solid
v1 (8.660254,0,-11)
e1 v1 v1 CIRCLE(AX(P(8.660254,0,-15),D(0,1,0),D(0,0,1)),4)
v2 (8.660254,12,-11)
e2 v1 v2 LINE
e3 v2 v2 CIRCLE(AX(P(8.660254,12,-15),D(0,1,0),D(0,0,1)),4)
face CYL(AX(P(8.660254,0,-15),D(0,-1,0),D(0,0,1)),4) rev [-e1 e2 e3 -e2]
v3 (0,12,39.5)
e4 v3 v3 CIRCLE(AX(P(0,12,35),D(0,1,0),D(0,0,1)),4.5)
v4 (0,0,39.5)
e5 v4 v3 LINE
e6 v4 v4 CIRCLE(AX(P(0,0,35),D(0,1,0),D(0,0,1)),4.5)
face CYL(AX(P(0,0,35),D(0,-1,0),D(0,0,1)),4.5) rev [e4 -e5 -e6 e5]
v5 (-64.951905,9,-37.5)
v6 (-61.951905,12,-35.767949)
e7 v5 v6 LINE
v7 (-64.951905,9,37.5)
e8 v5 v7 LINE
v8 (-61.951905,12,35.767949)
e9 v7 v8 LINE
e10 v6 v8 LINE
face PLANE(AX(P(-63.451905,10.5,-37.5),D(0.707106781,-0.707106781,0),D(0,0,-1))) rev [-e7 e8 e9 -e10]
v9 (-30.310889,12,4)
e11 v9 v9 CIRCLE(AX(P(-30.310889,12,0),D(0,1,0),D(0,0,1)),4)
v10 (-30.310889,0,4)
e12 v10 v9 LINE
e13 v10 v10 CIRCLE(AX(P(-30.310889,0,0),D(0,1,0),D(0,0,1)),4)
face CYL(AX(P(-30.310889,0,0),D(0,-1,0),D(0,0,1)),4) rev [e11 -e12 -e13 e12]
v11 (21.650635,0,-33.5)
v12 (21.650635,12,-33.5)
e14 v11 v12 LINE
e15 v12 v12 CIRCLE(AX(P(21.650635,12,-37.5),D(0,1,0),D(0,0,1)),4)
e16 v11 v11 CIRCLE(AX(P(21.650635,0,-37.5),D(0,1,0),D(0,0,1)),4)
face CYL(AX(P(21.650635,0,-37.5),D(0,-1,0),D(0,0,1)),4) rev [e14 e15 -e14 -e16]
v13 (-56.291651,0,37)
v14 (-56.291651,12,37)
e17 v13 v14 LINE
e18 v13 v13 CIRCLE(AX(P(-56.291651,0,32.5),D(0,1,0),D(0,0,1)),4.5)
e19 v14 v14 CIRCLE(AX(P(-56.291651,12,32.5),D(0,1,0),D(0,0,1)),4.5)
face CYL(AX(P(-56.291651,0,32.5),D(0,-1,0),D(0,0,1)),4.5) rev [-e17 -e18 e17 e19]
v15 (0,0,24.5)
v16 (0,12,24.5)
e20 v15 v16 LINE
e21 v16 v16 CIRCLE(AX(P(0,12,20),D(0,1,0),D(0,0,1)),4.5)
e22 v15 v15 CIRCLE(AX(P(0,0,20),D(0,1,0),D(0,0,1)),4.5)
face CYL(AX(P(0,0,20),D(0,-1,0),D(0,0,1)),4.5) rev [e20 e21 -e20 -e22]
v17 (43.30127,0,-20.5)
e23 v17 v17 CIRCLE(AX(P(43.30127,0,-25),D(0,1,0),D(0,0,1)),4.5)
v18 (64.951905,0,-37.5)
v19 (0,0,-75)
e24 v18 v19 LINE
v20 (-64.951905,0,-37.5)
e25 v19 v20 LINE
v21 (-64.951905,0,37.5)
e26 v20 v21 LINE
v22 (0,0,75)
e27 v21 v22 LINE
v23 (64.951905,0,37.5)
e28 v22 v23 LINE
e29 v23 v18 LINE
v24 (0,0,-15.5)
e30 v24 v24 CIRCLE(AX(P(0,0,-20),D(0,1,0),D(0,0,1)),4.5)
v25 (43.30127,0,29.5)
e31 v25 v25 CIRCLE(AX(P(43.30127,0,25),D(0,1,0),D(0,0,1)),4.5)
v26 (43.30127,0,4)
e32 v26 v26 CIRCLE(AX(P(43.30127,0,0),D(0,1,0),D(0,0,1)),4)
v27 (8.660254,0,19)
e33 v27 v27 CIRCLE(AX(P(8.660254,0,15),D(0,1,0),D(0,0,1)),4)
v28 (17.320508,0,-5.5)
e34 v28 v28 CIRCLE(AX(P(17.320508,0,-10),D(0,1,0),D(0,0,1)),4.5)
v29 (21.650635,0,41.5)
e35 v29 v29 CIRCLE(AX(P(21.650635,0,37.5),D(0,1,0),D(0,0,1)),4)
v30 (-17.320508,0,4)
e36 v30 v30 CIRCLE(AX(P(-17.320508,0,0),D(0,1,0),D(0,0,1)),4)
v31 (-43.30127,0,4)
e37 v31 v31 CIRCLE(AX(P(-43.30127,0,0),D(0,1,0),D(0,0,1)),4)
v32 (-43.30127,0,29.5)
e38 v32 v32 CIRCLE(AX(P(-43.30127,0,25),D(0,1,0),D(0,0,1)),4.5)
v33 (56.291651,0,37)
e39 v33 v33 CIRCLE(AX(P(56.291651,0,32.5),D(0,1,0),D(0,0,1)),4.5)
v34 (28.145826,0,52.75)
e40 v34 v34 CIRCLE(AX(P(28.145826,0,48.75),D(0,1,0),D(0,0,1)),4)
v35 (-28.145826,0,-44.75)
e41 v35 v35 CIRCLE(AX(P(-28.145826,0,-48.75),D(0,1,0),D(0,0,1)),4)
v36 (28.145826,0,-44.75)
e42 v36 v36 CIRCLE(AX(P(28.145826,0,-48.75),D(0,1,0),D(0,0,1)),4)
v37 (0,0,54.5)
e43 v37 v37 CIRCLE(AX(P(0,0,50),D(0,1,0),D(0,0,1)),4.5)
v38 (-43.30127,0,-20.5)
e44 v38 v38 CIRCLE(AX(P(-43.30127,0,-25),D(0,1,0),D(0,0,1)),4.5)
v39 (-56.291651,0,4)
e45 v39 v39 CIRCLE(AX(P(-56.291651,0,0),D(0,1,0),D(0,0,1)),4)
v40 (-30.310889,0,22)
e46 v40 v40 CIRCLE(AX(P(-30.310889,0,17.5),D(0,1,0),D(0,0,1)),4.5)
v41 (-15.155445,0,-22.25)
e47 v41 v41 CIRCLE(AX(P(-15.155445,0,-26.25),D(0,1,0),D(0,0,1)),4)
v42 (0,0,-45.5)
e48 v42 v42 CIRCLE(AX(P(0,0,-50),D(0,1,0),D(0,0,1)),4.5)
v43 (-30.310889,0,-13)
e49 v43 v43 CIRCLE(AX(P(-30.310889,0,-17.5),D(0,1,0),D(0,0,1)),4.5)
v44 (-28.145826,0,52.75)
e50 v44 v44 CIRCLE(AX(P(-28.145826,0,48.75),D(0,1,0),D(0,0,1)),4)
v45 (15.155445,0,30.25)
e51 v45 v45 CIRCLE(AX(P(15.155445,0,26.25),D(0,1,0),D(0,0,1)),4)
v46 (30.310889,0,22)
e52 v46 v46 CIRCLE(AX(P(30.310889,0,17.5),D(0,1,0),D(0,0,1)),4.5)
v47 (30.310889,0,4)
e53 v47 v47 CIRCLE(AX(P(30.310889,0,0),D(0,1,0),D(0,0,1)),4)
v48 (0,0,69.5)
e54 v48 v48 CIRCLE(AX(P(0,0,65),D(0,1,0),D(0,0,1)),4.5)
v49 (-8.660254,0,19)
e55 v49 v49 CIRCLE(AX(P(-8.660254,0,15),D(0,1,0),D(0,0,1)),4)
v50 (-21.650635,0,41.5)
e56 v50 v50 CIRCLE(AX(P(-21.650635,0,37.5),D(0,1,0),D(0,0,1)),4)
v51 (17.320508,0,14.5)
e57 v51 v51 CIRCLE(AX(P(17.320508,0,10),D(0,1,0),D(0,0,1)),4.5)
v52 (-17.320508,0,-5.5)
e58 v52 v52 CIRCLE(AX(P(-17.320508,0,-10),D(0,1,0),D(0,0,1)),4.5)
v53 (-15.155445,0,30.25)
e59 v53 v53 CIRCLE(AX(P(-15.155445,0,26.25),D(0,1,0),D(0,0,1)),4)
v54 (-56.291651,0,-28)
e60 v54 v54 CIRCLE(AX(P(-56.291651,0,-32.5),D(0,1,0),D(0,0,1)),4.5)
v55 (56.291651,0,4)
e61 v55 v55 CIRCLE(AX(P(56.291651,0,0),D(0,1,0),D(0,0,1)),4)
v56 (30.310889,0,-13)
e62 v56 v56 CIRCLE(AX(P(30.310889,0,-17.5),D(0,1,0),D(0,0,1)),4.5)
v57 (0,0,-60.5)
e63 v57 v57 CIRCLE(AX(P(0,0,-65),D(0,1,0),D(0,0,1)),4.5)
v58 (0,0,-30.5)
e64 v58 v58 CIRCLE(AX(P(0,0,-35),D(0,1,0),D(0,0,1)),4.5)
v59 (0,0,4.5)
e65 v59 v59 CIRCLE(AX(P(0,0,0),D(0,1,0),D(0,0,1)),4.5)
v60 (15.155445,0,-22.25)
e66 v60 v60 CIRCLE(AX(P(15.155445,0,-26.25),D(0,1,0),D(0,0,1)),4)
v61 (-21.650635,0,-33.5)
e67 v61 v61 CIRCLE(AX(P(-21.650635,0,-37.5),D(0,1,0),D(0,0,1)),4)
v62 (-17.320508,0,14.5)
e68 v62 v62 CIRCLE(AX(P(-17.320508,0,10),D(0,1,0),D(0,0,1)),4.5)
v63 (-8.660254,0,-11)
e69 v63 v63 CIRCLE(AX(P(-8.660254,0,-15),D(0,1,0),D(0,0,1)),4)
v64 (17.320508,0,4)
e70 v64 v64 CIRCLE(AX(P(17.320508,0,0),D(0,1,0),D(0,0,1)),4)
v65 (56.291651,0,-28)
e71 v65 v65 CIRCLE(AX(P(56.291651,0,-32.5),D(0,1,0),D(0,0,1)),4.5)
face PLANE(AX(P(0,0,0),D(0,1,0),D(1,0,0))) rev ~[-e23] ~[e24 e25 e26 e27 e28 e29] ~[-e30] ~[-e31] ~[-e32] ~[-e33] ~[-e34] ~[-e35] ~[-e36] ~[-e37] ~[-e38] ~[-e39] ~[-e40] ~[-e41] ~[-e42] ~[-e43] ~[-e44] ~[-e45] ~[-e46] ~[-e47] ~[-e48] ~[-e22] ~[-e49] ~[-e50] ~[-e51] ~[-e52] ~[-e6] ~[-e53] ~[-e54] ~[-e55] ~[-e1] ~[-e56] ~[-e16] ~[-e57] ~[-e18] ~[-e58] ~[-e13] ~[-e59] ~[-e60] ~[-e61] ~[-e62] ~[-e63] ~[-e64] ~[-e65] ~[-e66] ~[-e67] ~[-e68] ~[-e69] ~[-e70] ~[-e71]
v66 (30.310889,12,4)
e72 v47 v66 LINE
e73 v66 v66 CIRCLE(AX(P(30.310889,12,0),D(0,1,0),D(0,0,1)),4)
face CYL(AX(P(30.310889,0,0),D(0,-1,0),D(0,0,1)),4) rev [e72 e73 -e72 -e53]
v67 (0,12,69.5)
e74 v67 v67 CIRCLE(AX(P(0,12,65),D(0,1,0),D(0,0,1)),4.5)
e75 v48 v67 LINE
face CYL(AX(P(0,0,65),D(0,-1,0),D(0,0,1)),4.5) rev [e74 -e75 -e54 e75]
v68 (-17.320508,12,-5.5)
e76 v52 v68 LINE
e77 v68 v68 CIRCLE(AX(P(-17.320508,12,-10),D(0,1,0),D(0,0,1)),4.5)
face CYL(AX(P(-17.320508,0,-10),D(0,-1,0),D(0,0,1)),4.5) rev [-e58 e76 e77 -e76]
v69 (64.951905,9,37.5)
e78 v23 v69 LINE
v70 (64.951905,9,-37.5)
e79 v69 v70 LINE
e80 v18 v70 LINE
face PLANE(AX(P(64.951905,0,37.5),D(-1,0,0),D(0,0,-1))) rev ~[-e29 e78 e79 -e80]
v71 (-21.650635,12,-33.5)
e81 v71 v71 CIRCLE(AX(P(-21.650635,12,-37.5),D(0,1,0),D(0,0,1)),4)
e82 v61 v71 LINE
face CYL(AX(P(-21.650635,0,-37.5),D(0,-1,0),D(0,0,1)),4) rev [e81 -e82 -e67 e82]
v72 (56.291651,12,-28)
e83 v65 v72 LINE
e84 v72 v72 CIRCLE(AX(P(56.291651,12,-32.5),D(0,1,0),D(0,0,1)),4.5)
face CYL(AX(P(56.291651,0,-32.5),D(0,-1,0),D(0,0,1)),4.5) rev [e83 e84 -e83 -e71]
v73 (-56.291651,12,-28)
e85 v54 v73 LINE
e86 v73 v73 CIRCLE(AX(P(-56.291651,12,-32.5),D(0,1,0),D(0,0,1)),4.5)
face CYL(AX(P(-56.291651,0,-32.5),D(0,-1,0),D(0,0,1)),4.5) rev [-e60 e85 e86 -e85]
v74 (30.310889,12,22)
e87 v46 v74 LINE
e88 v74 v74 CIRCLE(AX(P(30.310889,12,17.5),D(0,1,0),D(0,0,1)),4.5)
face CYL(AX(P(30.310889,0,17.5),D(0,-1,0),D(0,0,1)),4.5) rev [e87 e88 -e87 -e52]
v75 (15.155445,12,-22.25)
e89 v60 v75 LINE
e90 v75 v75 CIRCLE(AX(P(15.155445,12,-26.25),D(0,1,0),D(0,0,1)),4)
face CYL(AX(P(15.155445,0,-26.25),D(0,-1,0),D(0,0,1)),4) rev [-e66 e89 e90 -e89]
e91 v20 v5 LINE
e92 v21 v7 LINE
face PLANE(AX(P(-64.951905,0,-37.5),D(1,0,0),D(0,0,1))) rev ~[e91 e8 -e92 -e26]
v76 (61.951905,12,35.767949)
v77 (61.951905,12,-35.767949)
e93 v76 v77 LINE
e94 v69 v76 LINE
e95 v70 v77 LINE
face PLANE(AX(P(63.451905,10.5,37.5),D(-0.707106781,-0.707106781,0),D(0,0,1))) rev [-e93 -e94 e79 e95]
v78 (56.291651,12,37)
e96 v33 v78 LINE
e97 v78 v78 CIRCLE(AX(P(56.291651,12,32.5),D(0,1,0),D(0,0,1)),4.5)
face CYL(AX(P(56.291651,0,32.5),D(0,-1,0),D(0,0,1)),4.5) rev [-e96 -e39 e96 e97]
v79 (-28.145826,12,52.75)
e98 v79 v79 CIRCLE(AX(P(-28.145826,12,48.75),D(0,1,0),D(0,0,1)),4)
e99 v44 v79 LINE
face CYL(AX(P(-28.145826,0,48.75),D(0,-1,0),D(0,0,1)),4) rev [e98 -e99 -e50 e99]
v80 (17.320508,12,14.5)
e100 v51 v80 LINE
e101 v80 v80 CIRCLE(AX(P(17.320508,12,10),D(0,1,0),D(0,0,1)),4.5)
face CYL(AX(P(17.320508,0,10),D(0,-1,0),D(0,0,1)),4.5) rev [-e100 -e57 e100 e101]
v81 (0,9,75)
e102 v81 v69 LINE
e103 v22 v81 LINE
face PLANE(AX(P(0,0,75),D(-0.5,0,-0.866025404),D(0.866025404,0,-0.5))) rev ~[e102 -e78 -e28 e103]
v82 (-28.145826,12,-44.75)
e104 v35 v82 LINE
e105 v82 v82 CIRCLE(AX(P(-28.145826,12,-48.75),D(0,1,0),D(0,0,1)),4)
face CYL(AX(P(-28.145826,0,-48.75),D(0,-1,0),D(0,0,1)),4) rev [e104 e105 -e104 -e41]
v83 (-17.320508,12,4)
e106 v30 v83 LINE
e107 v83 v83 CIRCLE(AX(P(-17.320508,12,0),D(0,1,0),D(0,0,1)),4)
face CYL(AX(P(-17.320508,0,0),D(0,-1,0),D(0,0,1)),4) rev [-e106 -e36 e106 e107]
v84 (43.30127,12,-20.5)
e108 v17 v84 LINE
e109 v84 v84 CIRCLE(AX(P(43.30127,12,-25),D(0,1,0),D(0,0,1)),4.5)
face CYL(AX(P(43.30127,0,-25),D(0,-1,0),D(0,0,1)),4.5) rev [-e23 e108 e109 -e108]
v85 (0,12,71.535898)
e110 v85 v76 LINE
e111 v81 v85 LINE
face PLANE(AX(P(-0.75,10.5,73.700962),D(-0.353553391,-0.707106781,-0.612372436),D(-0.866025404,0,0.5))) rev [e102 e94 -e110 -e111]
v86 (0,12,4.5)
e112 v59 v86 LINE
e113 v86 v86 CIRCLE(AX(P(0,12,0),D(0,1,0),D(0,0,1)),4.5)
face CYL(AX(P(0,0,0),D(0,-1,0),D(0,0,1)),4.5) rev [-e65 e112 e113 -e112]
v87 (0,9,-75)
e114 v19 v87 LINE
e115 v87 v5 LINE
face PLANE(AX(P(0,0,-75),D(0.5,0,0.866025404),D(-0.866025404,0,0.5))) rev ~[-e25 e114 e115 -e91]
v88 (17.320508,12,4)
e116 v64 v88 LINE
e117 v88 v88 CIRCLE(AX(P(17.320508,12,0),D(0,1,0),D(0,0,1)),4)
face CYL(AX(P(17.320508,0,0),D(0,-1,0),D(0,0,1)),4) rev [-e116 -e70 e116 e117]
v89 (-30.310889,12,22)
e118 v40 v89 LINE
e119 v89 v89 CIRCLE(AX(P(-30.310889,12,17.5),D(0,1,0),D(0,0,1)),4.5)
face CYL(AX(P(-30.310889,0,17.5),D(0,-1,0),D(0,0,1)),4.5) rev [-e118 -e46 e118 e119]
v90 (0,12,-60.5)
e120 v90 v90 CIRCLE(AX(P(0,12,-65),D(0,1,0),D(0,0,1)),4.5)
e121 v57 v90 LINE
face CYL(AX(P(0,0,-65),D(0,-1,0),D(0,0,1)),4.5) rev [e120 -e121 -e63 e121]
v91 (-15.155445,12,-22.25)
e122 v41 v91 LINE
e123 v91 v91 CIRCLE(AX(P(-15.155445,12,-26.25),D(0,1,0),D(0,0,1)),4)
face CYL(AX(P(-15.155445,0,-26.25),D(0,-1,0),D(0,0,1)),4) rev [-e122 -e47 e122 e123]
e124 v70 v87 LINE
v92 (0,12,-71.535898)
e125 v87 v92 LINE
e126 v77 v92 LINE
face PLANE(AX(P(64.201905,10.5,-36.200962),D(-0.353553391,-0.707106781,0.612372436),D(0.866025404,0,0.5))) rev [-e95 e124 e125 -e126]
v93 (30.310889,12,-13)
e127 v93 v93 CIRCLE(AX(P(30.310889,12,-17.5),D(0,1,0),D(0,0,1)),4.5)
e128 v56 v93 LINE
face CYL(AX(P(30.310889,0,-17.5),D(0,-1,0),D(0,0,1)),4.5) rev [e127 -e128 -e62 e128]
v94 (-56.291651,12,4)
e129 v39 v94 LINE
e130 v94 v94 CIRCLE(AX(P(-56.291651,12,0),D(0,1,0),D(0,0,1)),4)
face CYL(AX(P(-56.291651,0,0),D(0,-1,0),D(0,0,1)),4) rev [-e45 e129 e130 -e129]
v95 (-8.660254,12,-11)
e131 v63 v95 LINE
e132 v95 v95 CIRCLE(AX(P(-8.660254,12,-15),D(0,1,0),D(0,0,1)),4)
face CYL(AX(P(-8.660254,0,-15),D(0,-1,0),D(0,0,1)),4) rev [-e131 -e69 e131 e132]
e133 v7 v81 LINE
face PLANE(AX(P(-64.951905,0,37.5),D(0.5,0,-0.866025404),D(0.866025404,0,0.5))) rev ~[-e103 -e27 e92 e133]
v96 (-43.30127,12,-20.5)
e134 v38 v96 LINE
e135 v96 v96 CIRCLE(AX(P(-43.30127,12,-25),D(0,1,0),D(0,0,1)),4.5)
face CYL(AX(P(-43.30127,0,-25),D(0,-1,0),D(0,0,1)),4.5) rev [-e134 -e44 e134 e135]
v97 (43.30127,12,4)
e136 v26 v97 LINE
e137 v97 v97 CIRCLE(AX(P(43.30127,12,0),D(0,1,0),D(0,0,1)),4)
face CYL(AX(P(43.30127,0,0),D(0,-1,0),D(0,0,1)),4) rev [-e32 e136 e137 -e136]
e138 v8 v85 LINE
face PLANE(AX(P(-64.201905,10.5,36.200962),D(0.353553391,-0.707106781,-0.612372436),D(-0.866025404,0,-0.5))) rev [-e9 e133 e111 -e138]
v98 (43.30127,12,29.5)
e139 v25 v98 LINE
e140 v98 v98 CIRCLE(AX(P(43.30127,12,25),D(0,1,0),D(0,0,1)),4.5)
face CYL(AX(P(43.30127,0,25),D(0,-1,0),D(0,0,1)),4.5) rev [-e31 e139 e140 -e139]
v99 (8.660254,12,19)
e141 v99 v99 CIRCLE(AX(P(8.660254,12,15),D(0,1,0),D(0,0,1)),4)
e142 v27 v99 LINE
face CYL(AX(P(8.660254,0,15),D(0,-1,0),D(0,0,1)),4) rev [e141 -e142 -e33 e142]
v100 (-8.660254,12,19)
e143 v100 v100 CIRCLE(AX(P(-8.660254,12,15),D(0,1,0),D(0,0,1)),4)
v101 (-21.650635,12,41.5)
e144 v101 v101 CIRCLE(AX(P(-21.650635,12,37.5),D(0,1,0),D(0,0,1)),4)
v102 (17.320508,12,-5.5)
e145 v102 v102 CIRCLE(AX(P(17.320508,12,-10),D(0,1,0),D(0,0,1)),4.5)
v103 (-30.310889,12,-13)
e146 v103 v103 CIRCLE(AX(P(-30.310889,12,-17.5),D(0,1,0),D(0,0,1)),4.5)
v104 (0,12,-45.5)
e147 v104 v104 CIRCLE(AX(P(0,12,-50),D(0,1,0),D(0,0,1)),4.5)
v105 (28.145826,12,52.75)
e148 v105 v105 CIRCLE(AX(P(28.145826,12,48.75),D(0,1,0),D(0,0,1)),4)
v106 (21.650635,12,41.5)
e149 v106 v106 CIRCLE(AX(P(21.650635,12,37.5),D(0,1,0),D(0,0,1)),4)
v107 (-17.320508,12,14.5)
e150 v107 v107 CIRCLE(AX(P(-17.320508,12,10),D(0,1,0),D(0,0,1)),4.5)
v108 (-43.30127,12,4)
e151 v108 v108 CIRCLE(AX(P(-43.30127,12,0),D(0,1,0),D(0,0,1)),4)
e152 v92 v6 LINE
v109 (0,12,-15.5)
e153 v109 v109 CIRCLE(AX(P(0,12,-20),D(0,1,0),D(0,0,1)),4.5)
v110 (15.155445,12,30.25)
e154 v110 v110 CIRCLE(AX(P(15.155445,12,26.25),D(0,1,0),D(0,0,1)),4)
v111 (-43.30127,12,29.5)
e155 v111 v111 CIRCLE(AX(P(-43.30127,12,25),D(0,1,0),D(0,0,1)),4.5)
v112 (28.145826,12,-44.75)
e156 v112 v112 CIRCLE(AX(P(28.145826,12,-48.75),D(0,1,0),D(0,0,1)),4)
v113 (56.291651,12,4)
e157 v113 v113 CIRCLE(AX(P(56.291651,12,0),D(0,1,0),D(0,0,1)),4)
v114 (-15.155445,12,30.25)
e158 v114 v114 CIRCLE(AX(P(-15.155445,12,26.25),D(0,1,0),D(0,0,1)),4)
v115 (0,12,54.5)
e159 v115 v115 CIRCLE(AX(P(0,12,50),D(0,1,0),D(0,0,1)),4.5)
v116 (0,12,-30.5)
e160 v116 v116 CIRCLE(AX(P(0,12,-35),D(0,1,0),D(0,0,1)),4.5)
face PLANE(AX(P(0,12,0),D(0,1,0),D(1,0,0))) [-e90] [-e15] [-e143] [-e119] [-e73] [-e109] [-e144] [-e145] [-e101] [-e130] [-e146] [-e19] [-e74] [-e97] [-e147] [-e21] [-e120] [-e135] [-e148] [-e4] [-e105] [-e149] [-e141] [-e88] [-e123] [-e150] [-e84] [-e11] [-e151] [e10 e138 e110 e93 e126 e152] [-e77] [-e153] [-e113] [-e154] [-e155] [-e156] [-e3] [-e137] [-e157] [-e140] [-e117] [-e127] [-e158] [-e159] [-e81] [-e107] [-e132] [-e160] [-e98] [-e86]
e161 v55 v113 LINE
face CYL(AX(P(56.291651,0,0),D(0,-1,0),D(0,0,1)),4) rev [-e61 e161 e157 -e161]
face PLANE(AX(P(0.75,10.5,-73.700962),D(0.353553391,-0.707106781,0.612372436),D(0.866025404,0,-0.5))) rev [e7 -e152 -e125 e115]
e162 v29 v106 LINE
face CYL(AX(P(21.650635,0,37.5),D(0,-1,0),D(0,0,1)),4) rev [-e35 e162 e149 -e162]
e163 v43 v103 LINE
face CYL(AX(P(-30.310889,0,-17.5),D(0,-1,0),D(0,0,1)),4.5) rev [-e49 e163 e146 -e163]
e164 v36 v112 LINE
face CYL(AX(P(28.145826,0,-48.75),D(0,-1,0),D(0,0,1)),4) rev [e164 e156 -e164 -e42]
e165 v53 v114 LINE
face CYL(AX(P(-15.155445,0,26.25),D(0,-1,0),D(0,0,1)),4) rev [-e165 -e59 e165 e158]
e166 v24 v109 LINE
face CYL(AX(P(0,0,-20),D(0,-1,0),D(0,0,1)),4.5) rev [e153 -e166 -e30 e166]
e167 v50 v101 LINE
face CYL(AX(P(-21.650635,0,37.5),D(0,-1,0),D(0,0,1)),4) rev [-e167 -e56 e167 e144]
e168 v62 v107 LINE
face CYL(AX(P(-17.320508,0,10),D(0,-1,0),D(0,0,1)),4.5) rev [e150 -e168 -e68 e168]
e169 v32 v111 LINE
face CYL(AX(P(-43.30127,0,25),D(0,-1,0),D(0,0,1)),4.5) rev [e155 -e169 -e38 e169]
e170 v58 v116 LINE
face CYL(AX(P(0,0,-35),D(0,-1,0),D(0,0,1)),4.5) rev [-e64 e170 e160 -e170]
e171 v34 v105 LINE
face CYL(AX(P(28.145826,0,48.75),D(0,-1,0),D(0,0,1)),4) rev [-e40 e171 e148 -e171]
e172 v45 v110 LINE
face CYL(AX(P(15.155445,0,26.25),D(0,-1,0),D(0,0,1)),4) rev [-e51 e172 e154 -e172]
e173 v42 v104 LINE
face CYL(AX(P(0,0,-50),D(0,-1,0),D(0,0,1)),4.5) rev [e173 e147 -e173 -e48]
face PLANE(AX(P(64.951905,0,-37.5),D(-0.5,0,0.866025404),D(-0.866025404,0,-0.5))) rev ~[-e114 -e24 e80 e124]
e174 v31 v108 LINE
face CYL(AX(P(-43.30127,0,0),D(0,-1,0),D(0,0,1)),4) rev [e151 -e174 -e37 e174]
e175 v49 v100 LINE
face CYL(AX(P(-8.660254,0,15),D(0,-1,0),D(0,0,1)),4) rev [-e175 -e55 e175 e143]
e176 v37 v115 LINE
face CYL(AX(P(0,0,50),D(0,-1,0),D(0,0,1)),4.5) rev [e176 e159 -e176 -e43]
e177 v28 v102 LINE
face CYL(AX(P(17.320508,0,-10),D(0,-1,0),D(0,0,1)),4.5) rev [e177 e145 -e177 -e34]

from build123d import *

# Parameters (mm, degrees)
ESQUISSE1_R        = 4.5
ESQUISSE1_R_2      = 4
BOSS_EXTRU_1_DEPTH = 12
CHANFREIN1_SIZE    = 3


with BuildPart() as part:
    # Esquisse1 → Boss.-Extru.1 (new body)
    with BuildSketch(Plane(origin=(0, 0, 0), x_dir=(1, 0, 0), z_dir=(0, 1, 0))):
        Polygon((0, -75), (64.951905284, -37.5), (64.951905284, 37.5), (0, 75), (-64.951905284, 37.5), (-64.951905284, -37.5), align=None)
        with Locations(Location((0, 0, 0), (0, 0, 270))):
            Circle(ESQUISSE1_R, mode=Mode.SUBTRACT)
        with Locations(Location((0, 20, 0), (0, 0, 270))):
            Circle(ESQUISSE1_R, mode=Mode.SUBTRACT)
        with Locations(Location((0, 35, 0), (0, 0, 270))):
            Circle(ESQUISSE1_R, mode=Mode.SUBTRACT)
        with Locations(Location((0, 50, 0), (0, 0, 270))):
            Circle(ESQUISSE1_R, mode=Mode.SUBTRACT)
        with Locations(Location((0, 65, 0), (0, 0, 270))):
            Circle(ESQUISSE1_R, mode=Mode.SUBTRACT)
        with Locations(Location((17.320508076, 10, 0), (0, 0, 270))):
            Circle(ESQUISSE1_R, mode=Mode.SUBTRACT)
        with Locations(Location((30.310889132, 17.5, 0), (0, 0, 270))):
            Circle(ESQUISSE1_R, mode=Mode.SUBTRACT)
        with Locations(Location((43.301270189, 25, 0), (0, 0, 270))):
            Circle(ESQUISSE1_R, mode=Mode.SUBTRACT)
        with Locations(Location((56.291651246, 32.5, 0), (0, 0, 270))):
            Circle(ESQUISSE1_R, mode=Mode.SUBTRACT)
        with Locations(Location((17.320508076, -10, 0), (0, 0, 270))):
            Circle(ESQUISSE1_R, mode=Mode.SUBTRACT)
        with Locations(Location((30.310889132, -17.5, 0), (0, 0, 270))):
            Circle(ESQUISSE1_R, mode=Mode.SUBTRACT)
        with Locations(Location((43.301270189, -25, 0), (0, 0, 270))):
            Circle(ESQUISSE1_R, mode=Mode.SUBTRACT)
        with Locations(Location((56.291651246, -32.5, 0), (0, 0, 270))):
            Circle(ESQUISSE1_R, mode=Mode.SUBTRACT)
        with Locations(Location((0, -20, 0), (0, 0, 270))):
            Circle(ESQUISSE1_R, mode=Mode.SUBTRACT)
        with Locations(Location((0, -35, 0), (0, 0, 270))):
            Circle(ESQUISSE1_R, mode=Mode.SUBTRACT)
        with Locations(Location((0, -50, 0), (0, 0, 270))):
            Circle(ESQUISSE1_R, mode=Mode.SUBTRACT)
        with Locations(Location((0, -65, 0), (0, 0, 270))):
            Circle(ESQUISSE1_R, mode=Mode.SUBTRACT)
        with Locations(Location((-17.320508076, -10, 0), (0, 0, 270))):
            Circle(ESQUISSE1_R, mode=Mode.SUBTRACT)
        with Locations(Location((-30.310889132, -17.5, 0), (0, 0, 270))):
            Circle(ESQUISSE1_R, mode=Mode.SUBTRACT)
        with Locations(Location((-43.301270189, -25, 0), (0, 0, 270))):
            Circle(ESQUISSE1_R, mode=Mode.SUBTRACT)
        with Locations(Location((-56.291651246, -32.5, 0), (0, 0, 270))):
            Circle(ESQUISSE1_R, mode=Mode.SUBTRACT)
        with Locations(Location((-17.320508076, 10, 0), (0, 0, 270))):
            Circle(ESQUISSE1_R, mode=Mode.SUBTRACT)
        with Locations(Location((-30.310889132, 17.5, 0), (0, 0, 270))):
            Circle(ESQUISSE1_R, mode=Mode.SUBTRACT)
        with Locations(Location((-43.301270189, 25, 0), (0, 0, 270))):
            Circle(ESQUISSE1_R, mode=Mode.SUBTRACT)
        with Locations(Location((-56.291651246, 32.5, 0), (0, 0, 270))):
            Circle(ESQUISSE1_R, mode=Mode.SUBTRACT)
        with Locations(Location((17.320508076, 0, 0), (0, 0, 270))):
            Circle(ESQUISSE1_R_2, mode=Mode.SUBTRACT)
        with Locations(Location((30.310889132, 0, 0), (0, 0, 270))):
            Circle(ESQUISSE1_R_2, mode=Mode.SUBTRACT)
        with Locations(Location((43.301270189, 0, 0), (0, 0, 270))):
            Circle(ESQUISSE1_R_2, mode=Mode.SUBTRACT)
        with Locations(Location((56.291651246, 0, 0), (0, 0, 270))):
            Circle(ESQUISSE1_R_2, mode=Mode.SUBTRACT)
        with Locations(Location((8.660254038, -15, 0), (0, 0, 270))):
            Circle(ESQUISSE1_R_2, mode=Mode.SUBTRACT)
        with Locations(Location((15.155444566, -26.25, 0), (0, 0, 270))):
            Circle(ESQUISSE1_R_2, mode=Mode.SUBTRACT)
        with Locations(Location((21.650635095, -37.5, 0), (0, 0, 270))):
            Circle(ESQUISSE1_R_2, mode=Mode.SUBTRACT)
        with Locations(Location((28.145825623, -48.75, 0), (0, 0, 270))):
            Circle(ESQUISSE1_R_2, mode=Mode.SUBTRACT)
        with Locations(Location((-8.660254038, -15, 0), (0, 0, 270))):
            Circle(ESQUISSE1_R_2, mode=Mode.SUBTRACT)
        with Locations(Location((-15.155444566, -26.25, 0), (0, 0, 270))):
            Circle(ESQUISSE1_R_2, mode=Mode.SUBTRACT)
        with Locations(Location((-21.650635095, -37.5, 0), (0, 0, 270))):
            Circle(ESQUISSE1_R_2, mode=Mode.SUBTRACT)
        with Locations(Location((-28.145825623, -48.75, 0), (0, 0, 270))):
            Circle(ESQUISSE1_R_2, mode=Mode.SUBTRACT)
        with Locations(Location((-17.320508076, 0, 0), (0, 0, 270))):
            Circle(ESQUISSE1_R_2, mode=Mode.SUBTRACT)
        with Locations(Location((-30.310889132, 0, 0), (0, 0, 270))):
            Circle(ESQUISSE1_R_2, mode=Mode.SUBTRACT)
        with Locations(Location((-43.301270189, 0, 0), (0, 0, 270))):
            Circle(ESQUISSE1_R_2, mode=Mode.SUBTRACT)
        with Locations(Location((-56.291651246, 0, 0), (0, 0, 270))):
            Circle(ESQUISSE1_R_2, mode=Mode.SUBTRACT)
        with Locations(Location((-8.660254038, 15, 0), (0, 0, 270))):
            Circle(ESQUISSE1_R_2, mode=Mode.SUBTRACT)
        with Locations(Location((-15.155444566, 26.25, 0), (0, 0, 270))):
            Circle(ESQUISSE1_R_2, mode=Mode.SUBTRACT)
        with Locations(Location((-21.650635095, 37.5, 0), (0, 0, 270))):
            Circle(ESQUISSE1_R_2, mode=Mode.SUBTRACT)
        with Locations(Location((-28.145825623, 48.75, 0), (0, 0, 270))):
            Circle(ESQUISSE1_R_2, mode=Mode.SUBTRACT)
        with Locations(Location((8.660254038, 15, 0), (0, 0, 270))):
            Circle(ESQUISSE1_R_2, mode=Mode.SUBTRACT)
        with Locations(Location((15.155444566, 26.25, 0), (0, 0, 270))):
            Circle(ESQUISSE1_R_2, mode=Mode.SUBTRACT)
        with Locations(Location((21.650635095, 37.5, 0), (0, 0, 270))):
            Circle(ESQUISSE1_R_2, mode=Mode.SUBTRACT)
        with Locations(Location((28.145825623, 48.75, 0), (0, 0, 270))):
            Circle(ESQUISSE1_R_2, mode=Mode.SUBTRACT)
    extrude(amount=BOSS_EXTRU_1_DEPTH)

    # Chanfrein1
    chanfrein1_edges = [part.edges().sort_by_distance(p)[0] for p in [
        (32.475952642, 12, 56.25),
        (64.951905284, 12, 0),
        (32.475952642, 12, -56.25),
        (-32.475952642, 12, -56.25),
        (-64.951905284, 12, 0),
        (-32.475952642, 12, 56.25),
    ]]
    chamfer(chanfrein1_edges, length=CHANFREIN1_SIZE)


solid = part.part
